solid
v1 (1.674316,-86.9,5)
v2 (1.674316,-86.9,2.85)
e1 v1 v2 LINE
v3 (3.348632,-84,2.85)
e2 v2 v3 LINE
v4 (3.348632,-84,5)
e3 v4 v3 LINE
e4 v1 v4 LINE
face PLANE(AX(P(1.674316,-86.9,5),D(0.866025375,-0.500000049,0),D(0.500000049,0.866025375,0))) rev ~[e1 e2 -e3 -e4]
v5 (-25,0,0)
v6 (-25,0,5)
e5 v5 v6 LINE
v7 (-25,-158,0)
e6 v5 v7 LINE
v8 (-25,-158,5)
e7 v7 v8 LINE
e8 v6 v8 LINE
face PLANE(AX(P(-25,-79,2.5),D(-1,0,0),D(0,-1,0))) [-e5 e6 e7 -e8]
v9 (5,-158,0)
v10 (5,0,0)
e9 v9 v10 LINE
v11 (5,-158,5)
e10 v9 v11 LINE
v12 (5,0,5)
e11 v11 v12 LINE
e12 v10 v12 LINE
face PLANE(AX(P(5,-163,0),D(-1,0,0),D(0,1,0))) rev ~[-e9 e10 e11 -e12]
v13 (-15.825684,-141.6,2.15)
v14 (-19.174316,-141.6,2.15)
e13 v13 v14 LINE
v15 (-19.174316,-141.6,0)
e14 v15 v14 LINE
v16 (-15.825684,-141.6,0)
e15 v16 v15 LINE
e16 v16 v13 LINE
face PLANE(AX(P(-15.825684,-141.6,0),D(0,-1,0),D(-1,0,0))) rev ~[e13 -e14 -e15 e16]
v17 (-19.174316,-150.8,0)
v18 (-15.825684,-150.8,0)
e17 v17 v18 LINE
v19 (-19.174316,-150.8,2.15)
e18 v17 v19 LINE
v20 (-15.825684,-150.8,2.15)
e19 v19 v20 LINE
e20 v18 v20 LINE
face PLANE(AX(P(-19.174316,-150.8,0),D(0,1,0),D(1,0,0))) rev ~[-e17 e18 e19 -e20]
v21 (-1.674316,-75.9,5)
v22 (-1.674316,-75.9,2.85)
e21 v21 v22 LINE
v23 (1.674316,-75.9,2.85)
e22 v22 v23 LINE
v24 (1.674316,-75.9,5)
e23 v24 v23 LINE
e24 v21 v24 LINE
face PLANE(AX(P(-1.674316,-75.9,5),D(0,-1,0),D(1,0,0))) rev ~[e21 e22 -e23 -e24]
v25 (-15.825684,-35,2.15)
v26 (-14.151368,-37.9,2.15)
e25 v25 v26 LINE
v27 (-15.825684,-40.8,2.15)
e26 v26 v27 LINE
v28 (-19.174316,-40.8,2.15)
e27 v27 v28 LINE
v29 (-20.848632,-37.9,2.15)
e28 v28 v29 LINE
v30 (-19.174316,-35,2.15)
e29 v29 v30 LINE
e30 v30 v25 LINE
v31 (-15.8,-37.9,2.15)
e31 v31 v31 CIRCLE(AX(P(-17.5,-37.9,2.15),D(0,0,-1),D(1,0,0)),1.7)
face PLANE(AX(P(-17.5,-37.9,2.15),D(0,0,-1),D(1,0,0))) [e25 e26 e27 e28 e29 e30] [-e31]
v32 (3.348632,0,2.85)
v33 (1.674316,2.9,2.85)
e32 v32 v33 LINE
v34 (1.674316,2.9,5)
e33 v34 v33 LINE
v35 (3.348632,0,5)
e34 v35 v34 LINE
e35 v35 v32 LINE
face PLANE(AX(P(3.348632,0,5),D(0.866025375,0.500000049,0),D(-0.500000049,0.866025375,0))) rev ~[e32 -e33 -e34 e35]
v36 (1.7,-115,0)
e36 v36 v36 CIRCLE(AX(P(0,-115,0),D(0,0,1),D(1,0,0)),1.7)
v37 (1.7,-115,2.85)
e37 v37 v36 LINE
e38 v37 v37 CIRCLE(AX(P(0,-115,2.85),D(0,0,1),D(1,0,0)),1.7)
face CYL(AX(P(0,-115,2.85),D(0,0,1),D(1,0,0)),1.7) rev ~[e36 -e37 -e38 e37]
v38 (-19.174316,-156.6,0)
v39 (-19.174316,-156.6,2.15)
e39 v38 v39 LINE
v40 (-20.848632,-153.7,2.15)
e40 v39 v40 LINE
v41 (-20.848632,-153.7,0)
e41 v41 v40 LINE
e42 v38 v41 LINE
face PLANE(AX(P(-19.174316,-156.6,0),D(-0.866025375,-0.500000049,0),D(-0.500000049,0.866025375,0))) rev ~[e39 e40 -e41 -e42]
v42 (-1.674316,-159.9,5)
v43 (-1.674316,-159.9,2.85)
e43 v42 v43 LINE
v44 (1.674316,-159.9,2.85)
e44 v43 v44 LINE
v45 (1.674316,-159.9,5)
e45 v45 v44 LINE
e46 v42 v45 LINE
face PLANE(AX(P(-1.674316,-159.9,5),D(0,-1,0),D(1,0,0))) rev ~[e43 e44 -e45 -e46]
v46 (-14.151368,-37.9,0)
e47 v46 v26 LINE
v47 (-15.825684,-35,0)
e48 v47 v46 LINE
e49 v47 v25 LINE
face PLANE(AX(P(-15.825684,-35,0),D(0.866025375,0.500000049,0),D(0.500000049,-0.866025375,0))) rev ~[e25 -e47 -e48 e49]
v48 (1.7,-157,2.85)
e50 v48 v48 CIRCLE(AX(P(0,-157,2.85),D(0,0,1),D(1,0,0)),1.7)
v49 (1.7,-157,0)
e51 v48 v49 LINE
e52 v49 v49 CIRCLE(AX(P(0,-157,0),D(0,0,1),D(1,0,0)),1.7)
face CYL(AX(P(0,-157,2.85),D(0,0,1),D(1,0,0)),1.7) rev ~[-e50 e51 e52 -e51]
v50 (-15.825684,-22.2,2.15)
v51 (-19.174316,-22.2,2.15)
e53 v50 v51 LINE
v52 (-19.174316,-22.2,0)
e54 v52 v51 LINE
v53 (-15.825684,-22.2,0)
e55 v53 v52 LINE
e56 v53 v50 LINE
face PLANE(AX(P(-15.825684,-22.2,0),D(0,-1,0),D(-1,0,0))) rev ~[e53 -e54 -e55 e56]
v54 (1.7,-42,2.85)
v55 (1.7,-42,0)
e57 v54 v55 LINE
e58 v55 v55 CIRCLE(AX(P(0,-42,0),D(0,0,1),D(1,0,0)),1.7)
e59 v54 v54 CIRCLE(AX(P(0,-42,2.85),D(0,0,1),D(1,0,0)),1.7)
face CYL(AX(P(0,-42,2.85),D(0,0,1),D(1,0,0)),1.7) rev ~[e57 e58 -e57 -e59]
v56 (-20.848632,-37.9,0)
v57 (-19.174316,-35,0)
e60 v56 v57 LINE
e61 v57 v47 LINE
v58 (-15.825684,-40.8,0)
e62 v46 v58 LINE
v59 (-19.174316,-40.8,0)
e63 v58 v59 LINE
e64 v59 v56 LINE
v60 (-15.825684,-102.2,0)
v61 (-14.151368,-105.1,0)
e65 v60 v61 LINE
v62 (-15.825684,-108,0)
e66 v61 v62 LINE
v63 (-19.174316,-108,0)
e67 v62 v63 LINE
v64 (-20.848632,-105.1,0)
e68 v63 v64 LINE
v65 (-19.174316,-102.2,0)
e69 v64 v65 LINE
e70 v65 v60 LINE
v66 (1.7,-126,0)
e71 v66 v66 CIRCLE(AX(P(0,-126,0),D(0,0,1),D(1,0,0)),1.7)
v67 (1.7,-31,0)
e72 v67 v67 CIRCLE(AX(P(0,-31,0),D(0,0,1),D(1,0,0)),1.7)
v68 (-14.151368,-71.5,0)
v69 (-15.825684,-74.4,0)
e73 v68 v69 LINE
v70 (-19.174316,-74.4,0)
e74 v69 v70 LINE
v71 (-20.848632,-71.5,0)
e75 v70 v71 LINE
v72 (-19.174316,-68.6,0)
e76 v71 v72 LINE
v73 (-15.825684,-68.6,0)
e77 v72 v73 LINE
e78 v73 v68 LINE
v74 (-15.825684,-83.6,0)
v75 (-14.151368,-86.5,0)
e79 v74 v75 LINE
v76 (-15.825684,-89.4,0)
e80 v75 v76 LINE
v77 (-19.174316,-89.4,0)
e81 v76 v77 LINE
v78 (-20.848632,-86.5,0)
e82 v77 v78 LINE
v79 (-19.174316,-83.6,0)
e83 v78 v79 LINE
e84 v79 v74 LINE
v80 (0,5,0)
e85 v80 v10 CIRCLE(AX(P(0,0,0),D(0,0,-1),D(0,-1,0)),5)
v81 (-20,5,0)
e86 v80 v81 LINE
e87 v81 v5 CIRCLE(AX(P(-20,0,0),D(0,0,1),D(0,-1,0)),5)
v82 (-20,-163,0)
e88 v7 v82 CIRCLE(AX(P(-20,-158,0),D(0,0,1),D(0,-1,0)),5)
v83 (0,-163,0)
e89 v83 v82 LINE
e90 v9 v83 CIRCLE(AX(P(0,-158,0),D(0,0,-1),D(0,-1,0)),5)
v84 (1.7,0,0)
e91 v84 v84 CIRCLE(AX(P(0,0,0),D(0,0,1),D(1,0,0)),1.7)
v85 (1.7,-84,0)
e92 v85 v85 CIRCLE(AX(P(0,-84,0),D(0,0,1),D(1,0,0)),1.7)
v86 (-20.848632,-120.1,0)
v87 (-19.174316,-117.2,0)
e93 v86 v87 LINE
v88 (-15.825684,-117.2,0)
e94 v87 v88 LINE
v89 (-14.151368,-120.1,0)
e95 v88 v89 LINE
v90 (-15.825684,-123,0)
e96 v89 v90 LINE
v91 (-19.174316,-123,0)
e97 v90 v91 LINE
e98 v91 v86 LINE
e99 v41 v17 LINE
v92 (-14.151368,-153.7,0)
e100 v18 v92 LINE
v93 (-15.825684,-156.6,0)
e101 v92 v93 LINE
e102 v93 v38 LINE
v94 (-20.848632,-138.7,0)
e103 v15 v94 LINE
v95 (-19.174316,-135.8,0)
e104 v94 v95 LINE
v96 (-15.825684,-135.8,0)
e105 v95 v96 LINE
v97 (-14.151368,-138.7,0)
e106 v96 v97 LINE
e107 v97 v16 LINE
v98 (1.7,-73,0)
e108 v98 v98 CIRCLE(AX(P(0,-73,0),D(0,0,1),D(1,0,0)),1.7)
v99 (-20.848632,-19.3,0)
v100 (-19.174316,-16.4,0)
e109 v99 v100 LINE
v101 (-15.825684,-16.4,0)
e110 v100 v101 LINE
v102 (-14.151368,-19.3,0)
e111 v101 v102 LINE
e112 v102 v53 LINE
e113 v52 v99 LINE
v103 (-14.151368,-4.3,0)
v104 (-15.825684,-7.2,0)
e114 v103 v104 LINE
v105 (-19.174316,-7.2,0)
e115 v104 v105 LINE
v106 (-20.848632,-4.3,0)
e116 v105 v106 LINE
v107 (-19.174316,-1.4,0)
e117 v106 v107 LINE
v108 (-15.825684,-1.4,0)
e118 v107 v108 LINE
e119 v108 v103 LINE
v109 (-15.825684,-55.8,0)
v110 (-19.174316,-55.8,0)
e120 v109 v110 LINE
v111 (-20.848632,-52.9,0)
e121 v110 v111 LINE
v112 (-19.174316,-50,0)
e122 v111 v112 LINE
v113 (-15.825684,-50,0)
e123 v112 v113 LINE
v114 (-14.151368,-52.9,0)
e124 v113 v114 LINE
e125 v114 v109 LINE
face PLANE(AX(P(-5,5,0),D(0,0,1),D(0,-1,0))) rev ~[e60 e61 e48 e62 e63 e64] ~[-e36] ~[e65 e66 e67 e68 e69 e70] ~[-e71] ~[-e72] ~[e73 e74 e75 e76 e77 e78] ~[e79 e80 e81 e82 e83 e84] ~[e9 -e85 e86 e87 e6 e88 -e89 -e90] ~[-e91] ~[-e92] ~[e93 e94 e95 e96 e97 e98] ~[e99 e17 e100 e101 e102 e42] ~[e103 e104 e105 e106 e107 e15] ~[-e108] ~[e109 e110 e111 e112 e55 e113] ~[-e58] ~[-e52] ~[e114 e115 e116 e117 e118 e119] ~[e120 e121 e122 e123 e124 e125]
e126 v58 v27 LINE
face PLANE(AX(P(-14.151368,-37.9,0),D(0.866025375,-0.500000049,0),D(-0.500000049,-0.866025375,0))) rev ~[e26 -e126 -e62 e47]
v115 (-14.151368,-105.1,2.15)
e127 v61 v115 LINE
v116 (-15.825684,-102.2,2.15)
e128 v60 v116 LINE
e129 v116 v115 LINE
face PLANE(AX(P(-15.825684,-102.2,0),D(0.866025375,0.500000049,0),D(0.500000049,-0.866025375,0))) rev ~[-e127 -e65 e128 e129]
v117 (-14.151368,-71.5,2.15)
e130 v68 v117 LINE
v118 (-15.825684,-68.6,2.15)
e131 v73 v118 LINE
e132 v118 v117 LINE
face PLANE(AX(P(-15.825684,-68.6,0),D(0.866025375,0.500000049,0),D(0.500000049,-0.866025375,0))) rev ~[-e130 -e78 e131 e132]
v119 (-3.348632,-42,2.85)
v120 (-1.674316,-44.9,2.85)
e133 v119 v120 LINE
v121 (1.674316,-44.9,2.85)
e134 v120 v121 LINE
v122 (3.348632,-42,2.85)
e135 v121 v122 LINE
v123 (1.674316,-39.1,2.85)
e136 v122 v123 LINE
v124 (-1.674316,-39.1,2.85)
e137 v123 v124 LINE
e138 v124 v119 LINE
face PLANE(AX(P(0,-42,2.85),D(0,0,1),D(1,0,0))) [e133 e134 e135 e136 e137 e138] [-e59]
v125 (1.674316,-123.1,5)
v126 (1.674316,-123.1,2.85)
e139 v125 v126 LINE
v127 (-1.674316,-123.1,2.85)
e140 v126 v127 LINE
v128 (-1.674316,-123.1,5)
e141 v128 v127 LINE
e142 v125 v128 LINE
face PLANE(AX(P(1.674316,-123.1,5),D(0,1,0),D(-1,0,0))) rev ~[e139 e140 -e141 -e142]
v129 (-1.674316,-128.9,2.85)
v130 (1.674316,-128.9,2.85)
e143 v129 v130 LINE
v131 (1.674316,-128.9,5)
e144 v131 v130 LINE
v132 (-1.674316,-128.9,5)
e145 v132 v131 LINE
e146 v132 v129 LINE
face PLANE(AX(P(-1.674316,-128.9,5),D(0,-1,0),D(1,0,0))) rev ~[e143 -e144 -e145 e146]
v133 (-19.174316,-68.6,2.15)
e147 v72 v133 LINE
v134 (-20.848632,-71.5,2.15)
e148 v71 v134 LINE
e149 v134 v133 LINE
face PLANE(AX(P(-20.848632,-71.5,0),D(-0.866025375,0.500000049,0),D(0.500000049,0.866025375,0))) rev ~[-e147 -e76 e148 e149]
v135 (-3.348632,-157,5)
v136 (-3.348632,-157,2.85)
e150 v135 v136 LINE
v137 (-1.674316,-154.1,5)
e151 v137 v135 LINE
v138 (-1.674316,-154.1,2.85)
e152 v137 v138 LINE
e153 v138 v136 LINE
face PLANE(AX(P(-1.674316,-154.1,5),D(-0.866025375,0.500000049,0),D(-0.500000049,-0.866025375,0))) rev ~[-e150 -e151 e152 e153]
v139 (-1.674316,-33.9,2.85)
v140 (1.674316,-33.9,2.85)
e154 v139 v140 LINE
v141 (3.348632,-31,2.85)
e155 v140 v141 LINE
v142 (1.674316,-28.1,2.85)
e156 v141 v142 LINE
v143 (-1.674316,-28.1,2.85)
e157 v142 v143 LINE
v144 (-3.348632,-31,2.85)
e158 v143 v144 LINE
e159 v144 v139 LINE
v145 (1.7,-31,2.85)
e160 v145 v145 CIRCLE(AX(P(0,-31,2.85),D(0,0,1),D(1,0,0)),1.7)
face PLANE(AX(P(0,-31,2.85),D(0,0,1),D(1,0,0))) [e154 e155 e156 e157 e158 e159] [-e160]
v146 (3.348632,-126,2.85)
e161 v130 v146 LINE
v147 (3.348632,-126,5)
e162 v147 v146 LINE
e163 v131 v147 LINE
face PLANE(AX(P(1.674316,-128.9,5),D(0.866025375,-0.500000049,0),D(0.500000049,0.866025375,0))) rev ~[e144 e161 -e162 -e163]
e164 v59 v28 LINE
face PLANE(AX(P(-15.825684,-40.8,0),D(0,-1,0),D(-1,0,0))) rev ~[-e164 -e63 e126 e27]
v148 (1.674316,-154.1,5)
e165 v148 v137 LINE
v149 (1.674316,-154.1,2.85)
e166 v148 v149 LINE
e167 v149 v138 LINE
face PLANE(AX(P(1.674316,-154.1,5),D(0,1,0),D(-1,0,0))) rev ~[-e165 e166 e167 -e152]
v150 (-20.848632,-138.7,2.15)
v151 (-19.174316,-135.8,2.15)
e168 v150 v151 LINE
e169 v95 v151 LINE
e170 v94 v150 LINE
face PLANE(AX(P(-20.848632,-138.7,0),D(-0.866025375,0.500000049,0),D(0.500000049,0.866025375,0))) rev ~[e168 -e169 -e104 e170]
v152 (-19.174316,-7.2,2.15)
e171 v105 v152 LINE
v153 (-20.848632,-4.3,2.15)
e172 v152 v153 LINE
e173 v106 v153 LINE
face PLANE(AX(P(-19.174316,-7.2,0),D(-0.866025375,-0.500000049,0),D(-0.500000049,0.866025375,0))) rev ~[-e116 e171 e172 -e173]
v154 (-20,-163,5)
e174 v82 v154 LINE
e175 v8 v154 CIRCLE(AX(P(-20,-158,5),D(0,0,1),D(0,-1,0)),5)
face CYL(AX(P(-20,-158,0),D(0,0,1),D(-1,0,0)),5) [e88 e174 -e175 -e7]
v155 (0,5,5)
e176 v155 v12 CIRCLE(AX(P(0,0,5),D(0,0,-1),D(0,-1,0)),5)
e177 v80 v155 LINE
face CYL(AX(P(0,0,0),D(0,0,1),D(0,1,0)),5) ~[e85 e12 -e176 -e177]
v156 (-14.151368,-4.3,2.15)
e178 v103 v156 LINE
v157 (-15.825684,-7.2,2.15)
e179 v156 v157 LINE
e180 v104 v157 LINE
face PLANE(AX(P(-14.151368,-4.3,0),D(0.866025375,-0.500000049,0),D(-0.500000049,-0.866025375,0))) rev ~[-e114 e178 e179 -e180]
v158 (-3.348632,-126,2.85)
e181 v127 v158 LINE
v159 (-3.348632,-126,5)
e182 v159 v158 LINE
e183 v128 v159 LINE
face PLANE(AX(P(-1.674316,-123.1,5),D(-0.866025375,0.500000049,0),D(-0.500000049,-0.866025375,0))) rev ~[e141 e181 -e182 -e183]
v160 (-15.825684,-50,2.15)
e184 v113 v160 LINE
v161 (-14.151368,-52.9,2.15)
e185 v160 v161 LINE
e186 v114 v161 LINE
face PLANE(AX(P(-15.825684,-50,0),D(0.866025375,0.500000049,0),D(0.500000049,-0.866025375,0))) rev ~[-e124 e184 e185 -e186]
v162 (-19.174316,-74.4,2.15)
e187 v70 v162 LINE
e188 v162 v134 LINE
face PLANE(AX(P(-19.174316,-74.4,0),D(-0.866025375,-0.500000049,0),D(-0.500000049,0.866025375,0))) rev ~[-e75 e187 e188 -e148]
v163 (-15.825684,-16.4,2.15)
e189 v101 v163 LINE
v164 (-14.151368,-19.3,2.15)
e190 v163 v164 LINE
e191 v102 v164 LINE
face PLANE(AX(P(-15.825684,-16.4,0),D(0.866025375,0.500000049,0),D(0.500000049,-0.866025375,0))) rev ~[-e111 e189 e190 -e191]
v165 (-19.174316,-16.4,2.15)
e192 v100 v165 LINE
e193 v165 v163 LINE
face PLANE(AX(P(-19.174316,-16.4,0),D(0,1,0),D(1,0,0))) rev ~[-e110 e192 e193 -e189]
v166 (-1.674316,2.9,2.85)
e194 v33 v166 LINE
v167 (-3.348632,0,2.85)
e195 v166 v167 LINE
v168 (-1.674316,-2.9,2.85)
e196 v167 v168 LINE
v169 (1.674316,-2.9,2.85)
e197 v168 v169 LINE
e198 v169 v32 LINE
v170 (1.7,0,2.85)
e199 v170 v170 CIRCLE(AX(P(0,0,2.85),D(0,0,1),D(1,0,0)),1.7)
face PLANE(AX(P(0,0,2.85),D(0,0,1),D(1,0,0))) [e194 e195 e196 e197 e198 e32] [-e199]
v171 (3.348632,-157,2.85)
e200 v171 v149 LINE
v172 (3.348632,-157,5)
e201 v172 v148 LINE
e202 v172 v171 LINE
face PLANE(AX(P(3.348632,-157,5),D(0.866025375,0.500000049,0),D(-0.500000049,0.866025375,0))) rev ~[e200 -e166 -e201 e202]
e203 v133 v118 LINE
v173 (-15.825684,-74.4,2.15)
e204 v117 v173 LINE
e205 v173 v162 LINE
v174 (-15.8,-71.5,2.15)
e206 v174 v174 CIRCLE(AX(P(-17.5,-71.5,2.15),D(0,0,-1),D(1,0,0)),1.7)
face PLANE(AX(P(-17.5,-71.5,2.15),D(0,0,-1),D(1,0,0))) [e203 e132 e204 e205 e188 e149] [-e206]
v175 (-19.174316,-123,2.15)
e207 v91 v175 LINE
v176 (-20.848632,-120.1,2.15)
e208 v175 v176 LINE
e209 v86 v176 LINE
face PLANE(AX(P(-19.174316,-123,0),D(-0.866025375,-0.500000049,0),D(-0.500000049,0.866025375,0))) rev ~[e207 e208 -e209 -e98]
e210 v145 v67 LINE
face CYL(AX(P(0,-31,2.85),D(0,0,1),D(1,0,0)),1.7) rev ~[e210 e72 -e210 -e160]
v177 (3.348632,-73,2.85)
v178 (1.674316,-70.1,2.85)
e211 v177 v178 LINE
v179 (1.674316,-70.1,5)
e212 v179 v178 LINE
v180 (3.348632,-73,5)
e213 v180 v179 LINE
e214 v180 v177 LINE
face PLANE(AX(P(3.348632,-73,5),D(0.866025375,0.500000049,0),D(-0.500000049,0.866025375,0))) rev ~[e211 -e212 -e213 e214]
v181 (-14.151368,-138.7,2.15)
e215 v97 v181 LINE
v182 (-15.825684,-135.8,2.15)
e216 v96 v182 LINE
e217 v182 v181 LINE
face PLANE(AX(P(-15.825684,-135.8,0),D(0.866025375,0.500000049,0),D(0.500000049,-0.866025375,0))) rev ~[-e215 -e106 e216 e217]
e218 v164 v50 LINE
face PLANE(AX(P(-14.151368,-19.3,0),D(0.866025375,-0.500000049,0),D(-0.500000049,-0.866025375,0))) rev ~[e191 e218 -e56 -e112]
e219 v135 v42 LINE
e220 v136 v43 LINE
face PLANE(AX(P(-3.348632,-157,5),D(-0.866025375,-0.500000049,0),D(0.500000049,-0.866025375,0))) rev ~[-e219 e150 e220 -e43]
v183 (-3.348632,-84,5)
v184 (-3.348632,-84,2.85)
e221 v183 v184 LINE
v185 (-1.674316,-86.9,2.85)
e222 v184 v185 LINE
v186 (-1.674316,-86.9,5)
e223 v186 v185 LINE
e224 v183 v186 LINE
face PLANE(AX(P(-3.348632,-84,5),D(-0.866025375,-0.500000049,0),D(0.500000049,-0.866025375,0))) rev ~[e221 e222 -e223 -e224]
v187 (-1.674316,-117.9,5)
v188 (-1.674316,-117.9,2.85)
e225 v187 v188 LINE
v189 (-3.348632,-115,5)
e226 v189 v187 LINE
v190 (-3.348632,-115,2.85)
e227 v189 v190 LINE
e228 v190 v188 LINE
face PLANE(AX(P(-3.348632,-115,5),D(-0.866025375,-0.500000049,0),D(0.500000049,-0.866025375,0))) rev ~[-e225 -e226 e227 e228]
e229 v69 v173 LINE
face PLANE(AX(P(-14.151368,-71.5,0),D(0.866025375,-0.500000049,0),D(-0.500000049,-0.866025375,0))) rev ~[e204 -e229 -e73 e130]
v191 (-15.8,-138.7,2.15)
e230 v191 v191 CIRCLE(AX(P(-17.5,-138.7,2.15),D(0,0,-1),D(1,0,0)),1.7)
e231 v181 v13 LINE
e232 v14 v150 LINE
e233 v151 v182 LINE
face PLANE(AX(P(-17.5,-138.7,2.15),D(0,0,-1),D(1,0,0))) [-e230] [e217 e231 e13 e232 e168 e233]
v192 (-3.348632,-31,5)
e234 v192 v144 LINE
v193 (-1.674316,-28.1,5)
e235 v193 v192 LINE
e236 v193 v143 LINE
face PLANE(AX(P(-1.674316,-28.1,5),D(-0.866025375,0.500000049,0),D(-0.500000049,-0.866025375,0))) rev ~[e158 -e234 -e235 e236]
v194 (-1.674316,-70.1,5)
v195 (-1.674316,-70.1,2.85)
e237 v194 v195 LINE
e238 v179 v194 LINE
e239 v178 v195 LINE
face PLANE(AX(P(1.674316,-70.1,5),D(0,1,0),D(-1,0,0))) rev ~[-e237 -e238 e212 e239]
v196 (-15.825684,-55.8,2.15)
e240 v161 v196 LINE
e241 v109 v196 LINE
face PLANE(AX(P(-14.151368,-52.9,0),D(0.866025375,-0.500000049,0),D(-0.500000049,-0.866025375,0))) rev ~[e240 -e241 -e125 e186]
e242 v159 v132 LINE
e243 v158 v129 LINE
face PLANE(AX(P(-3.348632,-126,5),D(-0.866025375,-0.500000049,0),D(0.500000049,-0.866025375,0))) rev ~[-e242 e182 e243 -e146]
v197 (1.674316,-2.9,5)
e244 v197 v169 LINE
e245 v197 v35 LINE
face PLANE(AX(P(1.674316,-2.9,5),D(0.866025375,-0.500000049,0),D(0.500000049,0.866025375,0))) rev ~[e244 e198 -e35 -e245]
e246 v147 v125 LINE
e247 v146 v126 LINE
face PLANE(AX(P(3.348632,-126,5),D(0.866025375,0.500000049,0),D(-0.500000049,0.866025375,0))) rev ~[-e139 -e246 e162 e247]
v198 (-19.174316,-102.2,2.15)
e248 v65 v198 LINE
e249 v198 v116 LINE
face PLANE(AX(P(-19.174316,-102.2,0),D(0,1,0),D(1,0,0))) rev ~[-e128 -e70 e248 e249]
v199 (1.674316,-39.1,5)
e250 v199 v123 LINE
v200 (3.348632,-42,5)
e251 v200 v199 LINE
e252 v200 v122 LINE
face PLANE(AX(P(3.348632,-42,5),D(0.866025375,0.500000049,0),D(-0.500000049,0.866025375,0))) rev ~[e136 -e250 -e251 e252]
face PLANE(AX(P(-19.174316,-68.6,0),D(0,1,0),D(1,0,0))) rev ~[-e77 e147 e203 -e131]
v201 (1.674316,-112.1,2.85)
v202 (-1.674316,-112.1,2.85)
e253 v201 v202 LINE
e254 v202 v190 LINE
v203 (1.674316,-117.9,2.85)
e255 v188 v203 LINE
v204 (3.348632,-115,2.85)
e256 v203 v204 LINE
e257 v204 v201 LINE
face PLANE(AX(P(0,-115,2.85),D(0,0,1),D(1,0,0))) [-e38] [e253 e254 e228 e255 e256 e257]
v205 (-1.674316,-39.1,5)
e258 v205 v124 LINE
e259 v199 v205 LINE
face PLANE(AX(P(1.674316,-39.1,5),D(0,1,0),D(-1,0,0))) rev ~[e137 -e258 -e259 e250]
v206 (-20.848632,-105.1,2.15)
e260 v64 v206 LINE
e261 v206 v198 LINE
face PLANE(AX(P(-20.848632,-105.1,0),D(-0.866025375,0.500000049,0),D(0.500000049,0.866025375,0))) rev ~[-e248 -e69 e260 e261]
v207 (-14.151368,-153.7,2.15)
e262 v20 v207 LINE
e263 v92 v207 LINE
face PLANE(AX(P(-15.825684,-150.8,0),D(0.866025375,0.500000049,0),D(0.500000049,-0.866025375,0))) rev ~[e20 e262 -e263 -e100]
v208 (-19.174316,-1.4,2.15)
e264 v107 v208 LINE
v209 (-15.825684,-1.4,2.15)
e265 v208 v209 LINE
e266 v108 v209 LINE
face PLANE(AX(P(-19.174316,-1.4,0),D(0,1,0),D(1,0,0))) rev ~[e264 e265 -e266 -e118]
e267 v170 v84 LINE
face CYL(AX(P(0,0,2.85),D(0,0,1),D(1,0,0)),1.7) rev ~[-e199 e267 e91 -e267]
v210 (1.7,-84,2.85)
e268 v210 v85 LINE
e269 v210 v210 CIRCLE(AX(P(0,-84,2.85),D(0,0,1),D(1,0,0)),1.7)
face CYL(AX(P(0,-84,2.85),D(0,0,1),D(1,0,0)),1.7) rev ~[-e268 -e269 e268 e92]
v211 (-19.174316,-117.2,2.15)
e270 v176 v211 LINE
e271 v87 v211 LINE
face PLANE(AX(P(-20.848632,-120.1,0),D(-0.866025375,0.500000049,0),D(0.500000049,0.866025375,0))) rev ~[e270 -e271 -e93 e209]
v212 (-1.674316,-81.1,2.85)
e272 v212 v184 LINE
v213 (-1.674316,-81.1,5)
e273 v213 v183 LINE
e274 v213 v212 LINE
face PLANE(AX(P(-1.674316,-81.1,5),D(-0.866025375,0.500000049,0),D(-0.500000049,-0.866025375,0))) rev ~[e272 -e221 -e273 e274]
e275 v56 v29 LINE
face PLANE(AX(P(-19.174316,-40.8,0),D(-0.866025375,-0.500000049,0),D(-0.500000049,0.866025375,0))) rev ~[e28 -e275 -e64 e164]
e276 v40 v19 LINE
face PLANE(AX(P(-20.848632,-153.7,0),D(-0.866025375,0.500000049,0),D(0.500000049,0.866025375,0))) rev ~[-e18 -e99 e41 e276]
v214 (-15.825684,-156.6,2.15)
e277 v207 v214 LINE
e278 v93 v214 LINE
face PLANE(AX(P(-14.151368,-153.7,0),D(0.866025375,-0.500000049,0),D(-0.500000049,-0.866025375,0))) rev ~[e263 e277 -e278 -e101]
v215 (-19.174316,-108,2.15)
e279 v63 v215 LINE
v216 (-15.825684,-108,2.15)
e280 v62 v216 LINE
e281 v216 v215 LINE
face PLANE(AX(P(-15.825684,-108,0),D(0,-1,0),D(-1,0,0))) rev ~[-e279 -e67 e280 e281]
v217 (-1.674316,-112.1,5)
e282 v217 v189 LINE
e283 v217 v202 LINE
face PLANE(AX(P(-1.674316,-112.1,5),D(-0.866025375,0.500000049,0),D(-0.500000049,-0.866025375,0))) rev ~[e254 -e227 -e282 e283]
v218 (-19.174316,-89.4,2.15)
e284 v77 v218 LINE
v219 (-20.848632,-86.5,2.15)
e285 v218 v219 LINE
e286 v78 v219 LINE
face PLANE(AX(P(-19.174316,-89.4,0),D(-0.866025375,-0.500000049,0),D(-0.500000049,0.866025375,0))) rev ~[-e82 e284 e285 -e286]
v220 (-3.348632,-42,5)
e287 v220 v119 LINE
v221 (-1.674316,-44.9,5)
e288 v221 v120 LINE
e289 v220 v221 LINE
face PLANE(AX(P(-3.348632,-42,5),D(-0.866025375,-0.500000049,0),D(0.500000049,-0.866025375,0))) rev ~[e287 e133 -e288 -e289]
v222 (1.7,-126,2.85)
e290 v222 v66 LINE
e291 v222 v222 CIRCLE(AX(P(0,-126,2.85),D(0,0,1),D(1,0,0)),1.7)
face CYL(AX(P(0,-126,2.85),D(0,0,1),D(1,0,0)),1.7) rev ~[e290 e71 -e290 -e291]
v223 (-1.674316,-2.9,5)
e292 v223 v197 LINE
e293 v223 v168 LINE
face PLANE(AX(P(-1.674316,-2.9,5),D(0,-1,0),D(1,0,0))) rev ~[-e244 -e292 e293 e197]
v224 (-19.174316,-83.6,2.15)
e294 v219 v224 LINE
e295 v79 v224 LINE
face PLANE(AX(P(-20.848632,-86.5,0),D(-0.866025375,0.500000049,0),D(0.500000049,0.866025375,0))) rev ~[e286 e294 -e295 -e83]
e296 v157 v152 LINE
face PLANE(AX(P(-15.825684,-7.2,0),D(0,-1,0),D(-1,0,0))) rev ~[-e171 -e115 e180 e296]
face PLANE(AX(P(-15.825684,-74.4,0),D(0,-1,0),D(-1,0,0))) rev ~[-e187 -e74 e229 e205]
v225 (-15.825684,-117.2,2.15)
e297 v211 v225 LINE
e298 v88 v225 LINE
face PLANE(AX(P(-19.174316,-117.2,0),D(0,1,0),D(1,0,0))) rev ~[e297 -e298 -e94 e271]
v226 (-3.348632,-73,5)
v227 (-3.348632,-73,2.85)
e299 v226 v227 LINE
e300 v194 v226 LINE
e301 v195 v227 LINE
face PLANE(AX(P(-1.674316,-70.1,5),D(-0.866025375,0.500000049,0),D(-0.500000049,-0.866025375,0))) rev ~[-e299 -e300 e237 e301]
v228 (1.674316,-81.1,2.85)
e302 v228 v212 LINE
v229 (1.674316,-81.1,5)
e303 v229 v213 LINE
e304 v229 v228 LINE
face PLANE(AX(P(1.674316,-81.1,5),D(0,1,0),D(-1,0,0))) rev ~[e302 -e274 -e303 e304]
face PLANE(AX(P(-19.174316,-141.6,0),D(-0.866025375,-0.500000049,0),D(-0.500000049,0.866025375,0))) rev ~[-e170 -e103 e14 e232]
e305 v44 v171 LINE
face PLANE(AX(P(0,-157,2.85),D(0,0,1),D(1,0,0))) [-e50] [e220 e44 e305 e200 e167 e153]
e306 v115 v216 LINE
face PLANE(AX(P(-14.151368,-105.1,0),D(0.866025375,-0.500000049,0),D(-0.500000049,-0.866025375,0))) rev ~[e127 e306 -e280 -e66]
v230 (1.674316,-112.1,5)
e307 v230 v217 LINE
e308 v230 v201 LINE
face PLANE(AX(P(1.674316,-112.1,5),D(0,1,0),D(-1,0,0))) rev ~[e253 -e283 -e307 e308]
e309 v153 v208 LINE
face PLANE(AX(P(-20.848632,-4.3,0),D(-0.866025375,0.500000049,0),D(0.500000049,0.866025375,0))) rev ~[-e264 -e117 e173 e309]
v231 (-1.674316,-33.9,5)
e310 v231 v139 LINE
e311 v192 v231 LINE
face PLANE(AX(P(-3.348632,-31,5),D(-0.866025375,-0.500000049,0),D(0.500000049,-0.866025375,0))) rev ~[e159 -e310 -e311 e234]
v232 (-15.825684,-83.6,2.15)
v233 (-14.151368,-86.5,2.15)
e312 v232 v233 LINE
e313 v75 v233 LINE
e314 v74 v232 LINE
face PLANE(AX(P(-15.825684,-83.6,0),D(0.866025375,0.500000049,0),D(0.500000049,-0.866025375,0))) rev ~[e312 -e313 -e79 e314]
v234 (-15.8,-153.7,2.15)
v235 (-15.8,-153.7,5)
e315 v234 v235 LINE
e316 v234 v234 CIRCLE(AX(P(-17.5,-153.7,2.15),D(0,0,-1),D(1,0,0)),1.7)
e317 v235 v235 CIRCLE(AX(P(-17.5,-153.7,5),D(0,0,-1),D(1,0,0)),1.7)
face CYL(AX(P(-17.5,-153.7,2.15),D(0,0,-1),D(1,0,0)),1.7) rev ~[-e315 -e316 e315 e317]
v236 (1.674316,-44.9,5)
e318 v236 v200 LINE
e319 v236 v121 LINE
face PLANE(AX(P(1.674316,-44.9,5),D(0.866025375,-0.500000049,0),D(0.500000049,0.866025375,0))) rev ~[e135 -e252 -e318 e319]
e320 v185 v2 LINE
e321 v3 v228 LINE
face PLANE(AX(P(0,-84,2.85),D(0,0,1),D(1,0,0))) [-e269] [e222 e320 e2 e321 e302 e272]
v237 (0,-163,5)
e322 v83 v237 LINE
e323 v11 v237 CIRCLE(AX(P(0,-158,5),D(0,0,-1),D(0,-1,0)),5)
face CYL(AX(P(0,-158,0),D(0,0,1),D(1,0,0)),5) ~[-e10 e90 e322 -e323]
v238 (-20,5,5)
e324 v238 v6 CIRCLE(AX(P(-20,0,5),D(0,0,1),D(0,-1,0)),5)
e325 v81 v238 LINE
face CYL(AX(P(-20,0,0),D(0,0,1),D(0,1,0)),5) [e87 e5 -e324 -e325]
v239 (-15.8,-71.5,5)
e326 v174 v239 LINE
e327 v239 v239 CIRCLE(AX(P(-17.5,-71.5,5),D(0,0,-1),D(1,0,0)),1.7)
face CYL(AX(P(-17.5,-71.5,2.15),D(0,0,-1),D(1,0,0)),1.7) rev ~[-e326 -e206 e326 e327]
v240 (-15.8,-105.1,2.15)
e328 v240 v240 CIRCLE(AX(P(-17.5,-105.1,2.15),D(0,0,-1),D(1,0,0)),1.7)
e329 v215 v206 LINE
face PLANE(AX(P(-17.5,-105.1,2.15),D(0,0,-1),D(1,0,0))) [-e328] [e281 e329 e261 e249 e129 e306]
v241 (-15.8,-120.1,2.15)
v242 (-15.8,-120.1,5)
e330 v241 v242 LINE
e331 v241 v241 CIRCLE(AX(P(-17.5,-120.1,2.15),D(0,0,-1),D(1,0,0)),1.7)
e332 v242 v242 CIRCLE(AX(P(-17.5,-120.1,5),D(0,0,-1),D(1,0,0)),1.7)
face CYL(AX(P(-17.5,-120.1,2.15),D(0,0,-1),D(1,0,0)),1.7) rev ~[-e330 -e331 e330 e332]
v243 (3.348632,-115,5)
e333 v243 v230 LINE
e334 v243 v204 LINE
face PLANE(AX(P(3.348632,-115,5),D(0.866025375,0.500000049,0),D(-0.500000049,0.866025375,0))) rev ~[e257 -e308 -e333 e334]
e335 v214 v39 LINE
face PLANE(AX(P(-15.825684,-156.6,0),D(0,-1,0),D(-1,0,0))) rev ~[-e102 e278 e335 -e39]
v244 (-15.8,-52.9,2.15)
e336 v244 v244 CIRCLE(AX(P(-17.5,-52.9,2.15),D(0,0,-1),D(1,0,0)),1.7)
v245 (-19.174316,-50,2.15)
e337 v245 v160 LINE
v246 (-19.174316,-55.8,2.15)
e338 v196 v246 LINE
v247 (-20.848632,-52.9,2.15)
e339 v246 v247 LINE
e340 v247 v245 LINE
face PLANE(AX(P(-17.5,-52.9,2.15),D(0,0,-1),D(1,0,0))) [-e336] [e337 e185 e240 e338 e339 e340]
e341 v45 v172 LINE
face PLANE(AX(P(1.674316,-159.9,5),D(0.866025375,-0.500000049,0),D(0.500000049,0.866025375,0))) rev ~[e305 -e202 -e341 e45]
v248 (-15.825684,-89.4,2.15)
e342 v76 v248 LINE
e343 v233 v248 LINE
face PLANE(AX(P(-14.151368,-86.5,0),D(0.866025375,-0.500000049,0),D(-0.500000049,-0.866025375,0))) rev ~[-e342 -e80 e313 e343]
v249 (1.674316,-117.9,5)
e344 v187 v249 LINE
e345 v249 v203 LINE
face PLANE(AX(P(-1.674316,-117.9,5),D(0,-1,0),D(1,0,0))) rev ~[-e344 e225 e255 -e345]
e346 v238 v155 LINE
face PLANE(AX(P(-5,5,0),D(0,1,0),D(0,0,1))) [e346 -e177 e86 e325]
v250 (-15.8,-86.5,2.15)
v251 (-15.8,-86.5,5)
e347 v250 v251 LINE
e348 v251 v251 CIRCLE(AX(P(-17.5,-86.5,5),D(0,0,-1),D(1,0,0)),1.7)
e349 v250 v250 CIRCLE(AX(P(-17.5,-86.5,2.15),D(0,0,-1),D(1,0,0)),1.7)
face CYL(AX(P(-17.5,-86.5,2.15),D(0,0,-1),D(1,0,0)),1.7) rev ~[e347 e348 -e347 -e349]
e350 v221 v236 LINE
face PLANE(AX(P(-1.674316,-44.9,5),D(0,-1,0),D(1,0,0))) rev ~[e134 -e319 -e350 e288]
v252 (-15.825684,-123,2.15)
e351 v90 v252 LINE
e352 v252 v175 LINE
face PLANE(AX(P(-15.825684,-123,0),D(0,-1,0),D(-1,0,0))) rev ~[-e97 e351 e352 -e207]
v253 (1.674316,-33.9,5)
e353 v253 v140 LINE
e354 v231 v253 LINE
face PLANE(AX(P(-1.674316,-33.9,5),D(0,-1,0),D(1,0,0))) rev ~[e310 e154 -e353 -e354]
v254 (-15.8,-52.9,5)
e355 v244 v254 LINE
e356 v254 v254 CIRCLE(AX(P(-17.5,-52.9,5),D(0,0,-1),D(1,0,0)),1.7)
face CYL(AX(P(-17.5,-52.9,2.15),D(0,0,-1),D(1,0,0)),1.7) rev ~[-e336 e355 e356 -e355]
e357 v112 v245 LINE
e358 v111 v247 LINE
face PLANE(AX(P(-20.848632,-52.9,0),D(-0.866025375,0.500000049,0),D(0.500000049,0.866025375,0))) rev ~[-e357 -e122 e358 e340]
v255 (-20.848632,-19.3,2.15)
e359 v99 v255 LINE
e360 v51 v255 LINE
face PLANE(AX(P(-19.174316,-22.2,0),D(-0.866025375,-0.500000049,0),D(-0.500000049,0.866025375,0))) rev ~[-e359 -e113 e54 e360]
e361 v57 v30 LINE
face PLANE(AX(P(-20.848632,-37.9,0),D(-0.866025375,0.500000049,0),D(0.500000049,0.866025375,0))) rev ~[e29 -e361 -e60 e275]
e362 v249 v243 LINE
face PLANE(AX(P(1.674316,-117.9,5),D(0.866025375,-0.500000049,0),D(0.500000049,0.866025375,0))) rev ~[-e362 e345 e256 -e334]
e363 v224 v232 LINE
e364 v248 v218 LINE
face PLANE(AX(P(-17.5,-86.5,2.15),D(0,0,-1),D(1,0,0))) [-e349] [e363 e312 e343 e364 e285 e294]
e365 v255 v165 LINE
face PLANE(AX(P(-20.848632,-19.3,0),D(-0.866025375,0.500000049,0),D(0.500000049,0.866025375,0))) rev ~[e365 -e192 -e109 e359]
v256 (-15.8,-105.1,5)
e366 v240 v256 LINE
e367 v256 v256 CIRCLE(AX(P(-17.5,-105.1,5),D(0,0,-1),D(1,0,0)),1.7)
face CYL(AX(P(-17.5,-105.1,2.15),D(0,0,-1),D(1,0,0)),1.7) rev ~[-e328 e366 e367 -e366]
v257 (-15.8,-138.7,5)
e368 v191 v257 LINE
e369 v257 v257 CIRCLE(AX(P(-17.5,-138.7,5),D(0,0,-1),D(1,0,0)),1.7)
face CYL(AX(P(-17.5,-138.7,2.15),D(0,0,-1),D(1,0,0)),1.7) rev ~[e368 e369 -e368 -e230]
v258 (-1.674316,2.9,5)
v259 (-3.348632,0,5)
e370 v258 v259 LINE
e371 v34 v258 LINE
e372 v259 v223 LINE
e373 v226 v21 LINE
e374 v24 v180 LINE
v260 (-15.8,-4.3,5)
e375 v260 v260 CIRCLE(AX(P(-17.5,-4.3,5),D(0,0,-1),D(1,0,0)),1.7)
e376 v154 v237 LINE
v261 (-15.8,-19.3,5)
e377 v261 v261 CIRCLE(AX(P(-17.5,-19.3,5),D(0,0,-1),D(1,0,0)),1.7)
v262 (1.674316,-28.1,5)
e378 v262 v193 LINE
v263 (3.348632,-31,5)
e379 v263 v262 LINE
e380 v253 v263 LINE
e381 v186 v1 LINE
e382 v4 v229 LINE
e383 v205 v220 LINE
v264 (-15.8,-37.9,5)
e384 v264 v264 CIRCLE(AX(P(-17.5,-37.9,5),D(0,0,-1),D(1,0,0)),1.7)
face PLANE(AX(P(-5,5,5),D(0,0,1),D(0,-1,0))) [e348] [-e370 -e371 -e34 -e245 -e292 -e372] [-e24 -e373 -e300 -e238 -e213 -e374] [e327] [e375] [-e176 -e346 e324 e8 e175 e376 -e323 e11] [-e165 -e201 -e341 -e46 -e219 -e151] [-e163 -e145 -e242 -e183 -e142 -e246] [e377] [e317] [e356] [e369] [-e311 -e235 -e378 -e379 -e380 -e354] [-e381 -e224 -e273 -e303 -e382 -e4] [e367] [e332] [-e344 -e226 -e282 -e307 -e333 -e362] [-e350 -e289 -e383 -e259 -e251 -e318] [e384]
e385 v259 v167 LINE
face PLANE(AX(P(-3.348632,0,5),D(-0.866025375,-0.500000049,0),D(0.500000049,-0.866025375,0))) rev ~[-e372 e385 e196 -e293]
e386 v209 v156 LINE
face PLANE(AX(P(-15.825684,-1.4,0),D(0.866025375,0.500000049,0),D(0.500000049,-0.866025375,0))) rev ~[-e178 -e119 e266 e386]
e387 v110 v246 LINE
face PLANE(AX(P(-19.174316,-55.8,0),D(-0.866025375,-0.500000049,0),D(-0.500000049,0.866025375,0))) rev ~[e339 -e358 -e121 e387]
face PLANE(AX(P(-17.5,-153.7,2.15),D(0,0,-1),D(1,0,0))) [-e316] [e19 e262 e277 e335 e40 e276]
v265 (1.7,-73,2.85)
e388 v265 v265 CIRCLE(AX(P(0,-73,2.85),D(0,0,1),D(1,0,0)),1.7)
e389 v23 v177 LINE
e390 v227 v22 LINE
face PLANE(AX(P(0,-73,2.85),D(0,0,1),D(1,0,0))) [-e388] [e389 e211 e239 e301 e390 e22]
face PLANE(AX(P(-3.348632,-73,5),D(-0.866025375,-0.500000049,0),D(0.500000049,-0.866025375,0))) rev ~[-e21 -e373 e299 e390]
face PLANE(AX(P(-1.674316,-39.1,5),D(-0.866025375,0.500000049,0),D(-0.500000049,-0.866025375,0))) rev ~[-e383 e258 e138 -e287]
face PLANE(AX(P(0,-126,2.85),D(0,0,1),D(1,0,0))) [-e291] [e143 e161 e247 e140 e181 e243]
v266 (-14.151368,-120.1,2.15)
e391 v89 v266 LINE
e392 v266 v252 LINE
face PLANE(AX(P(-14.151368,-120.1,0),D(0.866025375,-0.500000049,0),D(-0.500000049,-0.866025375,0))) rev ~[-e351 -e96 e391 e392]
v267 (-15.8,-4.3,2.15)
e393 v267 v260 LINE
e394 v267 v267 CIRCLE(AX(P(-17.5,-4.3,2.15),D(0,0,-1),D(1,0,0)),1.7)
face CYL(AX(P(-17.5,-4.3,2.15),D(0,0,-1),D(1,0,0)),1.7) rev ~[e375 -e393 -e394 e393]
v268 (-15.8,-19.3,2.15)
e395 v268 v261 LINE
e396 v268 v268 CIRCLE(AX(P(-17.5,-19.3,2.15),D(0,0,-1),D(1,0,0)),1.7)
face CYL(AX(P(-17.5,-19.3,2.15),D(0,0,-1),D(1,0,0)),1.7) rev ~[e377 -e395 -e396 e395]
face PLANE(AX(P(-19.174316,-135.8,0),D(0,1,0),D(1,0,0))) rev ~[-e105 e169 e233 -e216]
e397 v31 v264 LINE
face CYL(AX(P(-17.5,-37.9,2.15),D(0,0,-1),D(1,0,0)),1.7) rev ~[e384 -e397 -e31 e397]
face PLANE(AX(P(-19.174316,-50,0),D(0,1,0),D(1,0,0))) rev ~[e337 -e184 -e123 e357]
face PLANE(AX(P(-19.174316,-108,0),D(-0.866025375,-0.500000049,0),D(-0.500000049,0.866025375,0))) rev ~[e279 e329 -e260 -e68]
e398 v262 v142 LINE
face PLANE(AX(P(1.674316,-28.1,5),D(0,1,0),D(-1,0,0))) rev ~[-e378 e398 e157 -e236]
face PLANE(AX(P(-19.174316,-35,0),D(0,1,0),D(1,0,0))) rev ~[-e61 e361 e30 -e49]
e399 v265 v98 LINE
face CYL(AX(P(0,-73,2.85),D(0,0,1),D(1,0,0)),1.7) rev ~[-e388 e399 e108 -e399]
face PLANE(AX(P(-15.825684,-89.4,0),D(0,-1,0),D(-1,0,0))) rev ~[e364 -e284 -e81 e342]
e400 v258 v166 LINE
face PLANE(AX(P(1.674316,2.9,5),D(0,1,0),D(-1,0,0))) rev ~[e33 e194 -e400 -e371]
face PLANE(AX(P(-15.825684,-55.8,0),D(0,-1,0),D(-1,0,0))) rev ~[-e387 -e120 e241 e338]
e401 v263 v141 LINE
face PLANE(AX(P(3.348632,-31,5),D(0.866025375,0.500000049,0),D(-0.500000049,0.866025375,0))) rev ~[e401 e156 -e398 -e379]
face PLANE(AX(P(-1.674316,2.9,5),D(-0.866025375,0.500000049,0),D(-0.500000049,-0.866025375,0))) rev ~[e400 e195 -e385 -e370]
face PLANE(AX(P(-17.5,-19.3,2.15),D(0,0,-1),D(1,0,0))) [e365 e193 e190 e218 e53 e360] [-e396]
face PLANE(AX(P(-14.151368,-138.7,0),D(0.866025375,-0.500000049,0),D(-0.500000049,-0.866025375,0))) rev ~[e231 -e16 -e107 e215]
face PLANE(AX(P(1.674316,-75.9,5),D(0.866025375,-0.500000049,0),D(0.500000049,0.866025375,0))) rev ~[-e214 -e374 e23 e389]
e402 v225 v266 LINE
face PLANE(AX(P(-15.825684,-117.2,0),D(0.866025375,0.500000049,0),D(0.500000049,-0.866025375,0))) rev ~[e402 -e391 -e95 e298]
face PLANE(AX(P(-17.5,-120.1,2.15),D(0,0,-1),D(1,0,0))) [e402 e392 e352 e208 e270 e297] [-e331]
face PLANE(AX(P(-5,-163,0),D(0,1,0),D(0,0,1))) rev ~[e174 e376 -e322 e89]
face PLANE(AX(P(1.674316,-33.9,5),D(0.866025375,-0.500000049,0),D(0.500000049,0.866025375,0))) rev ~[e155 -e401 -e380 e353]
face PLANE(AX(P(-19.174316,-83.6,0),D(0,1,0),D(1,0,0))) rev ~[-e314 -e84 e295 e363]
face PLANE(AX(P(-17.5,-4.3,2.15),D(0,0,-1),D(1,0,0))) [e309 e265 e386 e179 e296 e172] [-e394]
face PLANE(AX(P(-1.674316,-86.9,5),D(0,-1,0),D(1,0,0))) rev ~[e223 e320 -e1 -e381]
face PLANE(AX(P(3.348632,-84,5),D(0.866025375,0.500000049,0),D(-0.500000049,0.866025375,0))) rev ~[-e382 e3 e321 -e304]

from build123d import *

# Parameters (mm, degrees)
SKETCH_W                           = 10
SKETCH_H                           = 168
PAD_DEPTH                          = 5
POCKET_DEPTH                       = 2.15
SKETCH002_R                        = 1.7
HOLE_DEPTH                         = 339.594226
POCKET_LINEARPATTERN_2_DEPTH       = 2.15
SKETCH002_LINEARPATTERN_2_R        = 1.7
HOLE_LINEARPATTERN_2_DEPTH         = 339.594226
LINEARPATTERN001_COUNT             = 4
LINEARPATTERN001_PITCH             = 42
SKETCH003_W                        = 168
SKETCH003_H                        = 5
PAD001_DEPTH                       = 20
POCKET001_DEPTH                    = 2.15
SKETCH005_R                        = 1.7
HOLE001_DEPTH                      = 344.312564
POCKET001_LINEARPATTERN002_2_DEPTH = 2.15
SKETCH005_LINEARPATTERN002_2_R     = 1.7
HOLE001_LINEARPATTERN002_2_DEPTH   = 344.312564
LINEARPATTERN003_COUNT             = 5
LINEARPATTERN003_PITCH             = 33.6
FILLET_R                           = 5


with BuildPart() as part:
    # Sketch → Pad (new body)
    with BuildSketch(Plane.XY):
        with Locations((0, -79)):
            Rectangle(SKETCH_W, SKETCH_H)
    extrude(amount=PAD_DEPTH)

    # Sketch001 (on Face6 of Pad) → Pocket (cut)
    with BuildSketch(Plane.XY.offset(5)):
        Polygon((3.348632, 0), (1.674316, 2.9), (-1.674316, 2.9), (-3.348632, 0), (-1.674316, -2.9), (1.674316, -2.9), align=None)
    pocket = extrude(amount=-POCKET_DEPTH, mode=Mode.SUBTRACT)

    # Sketch002 (on Face13 of Pocket) → Hole (cut, through all)
    with BuildSketch(Plane.XY.offset(2.85)):
        Circle(SKETCH002_R)
    hole = extrude(amount=-HOLE_DEPTH, mode=Mode.SUBTRACT)

    # Sketch001 LinearPattern 2 → Pocket LinearPattern 2 (cut)
    with BuildSketch(Plane(origin=(0, -31, 5), x_dir=(1, 0, 0), z_dir=(0, 0, 1))):
        Polygon((3.348632, 0), (1.674316, 2.9), (-1.674316, 2.9), (-3.348632, 0), (-1.674316, -2.9), (1.674316, -2.9), align=None)
    pocket_linearpattern_2 = extrude(amount=-POCKET_LINEARPATTERN_2_DEPTH, mode=Mode.SUBTRACT)

    # Sketch002 LinearPattern 2 → Hole LinearPattern 2 (cut, through all)
    with BuildSketch(Plane(origin=(0, -31, 2.85), x_dir=(1, 0, 0), z_dir=(0, 0, 1))):
        Circle(SKETCH002_LINEARPATTERN_2_R)
    hole_linearpattern_2 = extrude(amount=-HOLE_LINEARPATTERN_2_DEPTH, mode=Mode.SUBTRACT)

    # LinearPattern001: Pocket, Hole, Pocket LinearPattern 2, Hole LinearPattern 2 ×4
    with Locations(*[(0, -i * LINEARPATTERN001_PITCH, 0) for i in range(1, LINEARPATTERN001_COUNT)]):
        add(pocket, mode=Mode.SUBTRACT)
        add(hole, mode=Mode.SUBTRACT)
        add(pocket_linearpattern_2, mode=Mode.SUBTRACT)
        add(hole_linearpattern_2, mode=Mode.SUBTRACT)

    # Sketch003 (on Face2 of MultiTransform) → Pad001 (join)
    with BuildSketch(Plane(origin=(-5, 0, 0), x_dir=(0, -1, 0), z_dir=(-1, 0, 0))):
        with Locations((79, 2.5)):
            Rectangle(SKETCH003_W, SKETCH003_H)
    extrude(amount=PAD001_DEPTH)

    # Sketch004 (on Face7 of Pad001) → Pocket001 (cut)
    with BuildSketch(Plane(origin=(0, 0, 0), x_dir=(1, 0, 0), z_dir=(0, 0, -1))):
        Polygon((-14.151368, 153.7), (-15.825684, 156.6), (-19.174316, 156.6), (-20.848632, 153.7), (-19.174316, 150.8), (-15.825684, 150.8), align=None)
    pocket001 = extrude(amount=-POCKET001_DEPTH, mode=Mode.SUBTRACT)

    # Sketch005 (on Face81 of Pocket001) → Hole001 (cut, through all)
    with BuildSketch(Plane(origin=(0, 0, 2.15), x_dir=(1, 0, 0), z_dir=(0, 0, -1))):
        with Locations((-17.5, 153.7)):
            Circle(SKETCH005_R)
    hole001 = extrude(amount=-HOLE001_DEPTH, mode=Mode.SUBTRACT)

    # Sketch004 LinearPattern002 2 → Pocket001 LinearPattern002 2 (cut)
    with BuildSketch(Plane(origin=(0, 15, 0), x_dir=(1, 0, 0), z_dir=(0, 0, -1))):
        Polygon((-14.151368, 153.7), (-15.825684, 156.6), (-19.174316, 156.6), (-20.848632, 153.7), (-19.174316, 150.8), (-15.825684, 150.8), align=None)
    pocket001_linearpattern002_2 = extrude(amount=-POCKET001_LINEARPATTERN002_2_DEPTH, mode=Mode.SUBTRACT)

    # Sketch005 LinearPattern002 2 → Hole001 LinearPattern002 2 (cut, through all)
    with BuildSketch(Plane(origin=(0, 15, 2.15), x_dir=(1, 0, 0), z_dir=(0, 0, -1))):
        with Locations((-17.5, 153.7)):
            Circle(SKETCH005_LINEARPATTERN002_2_R)
    hole001_linearpattern002_2 = extrude(amount=-HOLE001_LINEARPATTERN002_2_DEPTH, mode=Mode.SUBTRACT)

    # LinearPattern003: Pocket001, Hole001, Pocket001 LinearPattern002 2, Hole001 LinearPattern002 2 ×5
    with Locations(*[(0, i * LINEARPATTERN003_PITCH, 0) for i in range(1, LINEARPATTERN003_COUNT)]):
        add(pocket001, mode=Mode.SUBTRACT)
        add(hole001, mode=Mode.SUBTRACT)
        add(pocket001_linearpattern002_2, mode=Mode.SUBTRACT)
        add(hole001_linearpattern002_2, mode=Mode.SUBTRACT)

    # Fillet
    fillet_edges = [part.edges().sort_by_distance(p)[0] for p in [
        (5, -163, 2.5),
        (-25, -163, 2.5),
        (5, 5, 2.5),
        (-25, 5, 2.5),
    ]]
    fillet(fillet_edges, radius=FILLET_R)


solid = part.part
